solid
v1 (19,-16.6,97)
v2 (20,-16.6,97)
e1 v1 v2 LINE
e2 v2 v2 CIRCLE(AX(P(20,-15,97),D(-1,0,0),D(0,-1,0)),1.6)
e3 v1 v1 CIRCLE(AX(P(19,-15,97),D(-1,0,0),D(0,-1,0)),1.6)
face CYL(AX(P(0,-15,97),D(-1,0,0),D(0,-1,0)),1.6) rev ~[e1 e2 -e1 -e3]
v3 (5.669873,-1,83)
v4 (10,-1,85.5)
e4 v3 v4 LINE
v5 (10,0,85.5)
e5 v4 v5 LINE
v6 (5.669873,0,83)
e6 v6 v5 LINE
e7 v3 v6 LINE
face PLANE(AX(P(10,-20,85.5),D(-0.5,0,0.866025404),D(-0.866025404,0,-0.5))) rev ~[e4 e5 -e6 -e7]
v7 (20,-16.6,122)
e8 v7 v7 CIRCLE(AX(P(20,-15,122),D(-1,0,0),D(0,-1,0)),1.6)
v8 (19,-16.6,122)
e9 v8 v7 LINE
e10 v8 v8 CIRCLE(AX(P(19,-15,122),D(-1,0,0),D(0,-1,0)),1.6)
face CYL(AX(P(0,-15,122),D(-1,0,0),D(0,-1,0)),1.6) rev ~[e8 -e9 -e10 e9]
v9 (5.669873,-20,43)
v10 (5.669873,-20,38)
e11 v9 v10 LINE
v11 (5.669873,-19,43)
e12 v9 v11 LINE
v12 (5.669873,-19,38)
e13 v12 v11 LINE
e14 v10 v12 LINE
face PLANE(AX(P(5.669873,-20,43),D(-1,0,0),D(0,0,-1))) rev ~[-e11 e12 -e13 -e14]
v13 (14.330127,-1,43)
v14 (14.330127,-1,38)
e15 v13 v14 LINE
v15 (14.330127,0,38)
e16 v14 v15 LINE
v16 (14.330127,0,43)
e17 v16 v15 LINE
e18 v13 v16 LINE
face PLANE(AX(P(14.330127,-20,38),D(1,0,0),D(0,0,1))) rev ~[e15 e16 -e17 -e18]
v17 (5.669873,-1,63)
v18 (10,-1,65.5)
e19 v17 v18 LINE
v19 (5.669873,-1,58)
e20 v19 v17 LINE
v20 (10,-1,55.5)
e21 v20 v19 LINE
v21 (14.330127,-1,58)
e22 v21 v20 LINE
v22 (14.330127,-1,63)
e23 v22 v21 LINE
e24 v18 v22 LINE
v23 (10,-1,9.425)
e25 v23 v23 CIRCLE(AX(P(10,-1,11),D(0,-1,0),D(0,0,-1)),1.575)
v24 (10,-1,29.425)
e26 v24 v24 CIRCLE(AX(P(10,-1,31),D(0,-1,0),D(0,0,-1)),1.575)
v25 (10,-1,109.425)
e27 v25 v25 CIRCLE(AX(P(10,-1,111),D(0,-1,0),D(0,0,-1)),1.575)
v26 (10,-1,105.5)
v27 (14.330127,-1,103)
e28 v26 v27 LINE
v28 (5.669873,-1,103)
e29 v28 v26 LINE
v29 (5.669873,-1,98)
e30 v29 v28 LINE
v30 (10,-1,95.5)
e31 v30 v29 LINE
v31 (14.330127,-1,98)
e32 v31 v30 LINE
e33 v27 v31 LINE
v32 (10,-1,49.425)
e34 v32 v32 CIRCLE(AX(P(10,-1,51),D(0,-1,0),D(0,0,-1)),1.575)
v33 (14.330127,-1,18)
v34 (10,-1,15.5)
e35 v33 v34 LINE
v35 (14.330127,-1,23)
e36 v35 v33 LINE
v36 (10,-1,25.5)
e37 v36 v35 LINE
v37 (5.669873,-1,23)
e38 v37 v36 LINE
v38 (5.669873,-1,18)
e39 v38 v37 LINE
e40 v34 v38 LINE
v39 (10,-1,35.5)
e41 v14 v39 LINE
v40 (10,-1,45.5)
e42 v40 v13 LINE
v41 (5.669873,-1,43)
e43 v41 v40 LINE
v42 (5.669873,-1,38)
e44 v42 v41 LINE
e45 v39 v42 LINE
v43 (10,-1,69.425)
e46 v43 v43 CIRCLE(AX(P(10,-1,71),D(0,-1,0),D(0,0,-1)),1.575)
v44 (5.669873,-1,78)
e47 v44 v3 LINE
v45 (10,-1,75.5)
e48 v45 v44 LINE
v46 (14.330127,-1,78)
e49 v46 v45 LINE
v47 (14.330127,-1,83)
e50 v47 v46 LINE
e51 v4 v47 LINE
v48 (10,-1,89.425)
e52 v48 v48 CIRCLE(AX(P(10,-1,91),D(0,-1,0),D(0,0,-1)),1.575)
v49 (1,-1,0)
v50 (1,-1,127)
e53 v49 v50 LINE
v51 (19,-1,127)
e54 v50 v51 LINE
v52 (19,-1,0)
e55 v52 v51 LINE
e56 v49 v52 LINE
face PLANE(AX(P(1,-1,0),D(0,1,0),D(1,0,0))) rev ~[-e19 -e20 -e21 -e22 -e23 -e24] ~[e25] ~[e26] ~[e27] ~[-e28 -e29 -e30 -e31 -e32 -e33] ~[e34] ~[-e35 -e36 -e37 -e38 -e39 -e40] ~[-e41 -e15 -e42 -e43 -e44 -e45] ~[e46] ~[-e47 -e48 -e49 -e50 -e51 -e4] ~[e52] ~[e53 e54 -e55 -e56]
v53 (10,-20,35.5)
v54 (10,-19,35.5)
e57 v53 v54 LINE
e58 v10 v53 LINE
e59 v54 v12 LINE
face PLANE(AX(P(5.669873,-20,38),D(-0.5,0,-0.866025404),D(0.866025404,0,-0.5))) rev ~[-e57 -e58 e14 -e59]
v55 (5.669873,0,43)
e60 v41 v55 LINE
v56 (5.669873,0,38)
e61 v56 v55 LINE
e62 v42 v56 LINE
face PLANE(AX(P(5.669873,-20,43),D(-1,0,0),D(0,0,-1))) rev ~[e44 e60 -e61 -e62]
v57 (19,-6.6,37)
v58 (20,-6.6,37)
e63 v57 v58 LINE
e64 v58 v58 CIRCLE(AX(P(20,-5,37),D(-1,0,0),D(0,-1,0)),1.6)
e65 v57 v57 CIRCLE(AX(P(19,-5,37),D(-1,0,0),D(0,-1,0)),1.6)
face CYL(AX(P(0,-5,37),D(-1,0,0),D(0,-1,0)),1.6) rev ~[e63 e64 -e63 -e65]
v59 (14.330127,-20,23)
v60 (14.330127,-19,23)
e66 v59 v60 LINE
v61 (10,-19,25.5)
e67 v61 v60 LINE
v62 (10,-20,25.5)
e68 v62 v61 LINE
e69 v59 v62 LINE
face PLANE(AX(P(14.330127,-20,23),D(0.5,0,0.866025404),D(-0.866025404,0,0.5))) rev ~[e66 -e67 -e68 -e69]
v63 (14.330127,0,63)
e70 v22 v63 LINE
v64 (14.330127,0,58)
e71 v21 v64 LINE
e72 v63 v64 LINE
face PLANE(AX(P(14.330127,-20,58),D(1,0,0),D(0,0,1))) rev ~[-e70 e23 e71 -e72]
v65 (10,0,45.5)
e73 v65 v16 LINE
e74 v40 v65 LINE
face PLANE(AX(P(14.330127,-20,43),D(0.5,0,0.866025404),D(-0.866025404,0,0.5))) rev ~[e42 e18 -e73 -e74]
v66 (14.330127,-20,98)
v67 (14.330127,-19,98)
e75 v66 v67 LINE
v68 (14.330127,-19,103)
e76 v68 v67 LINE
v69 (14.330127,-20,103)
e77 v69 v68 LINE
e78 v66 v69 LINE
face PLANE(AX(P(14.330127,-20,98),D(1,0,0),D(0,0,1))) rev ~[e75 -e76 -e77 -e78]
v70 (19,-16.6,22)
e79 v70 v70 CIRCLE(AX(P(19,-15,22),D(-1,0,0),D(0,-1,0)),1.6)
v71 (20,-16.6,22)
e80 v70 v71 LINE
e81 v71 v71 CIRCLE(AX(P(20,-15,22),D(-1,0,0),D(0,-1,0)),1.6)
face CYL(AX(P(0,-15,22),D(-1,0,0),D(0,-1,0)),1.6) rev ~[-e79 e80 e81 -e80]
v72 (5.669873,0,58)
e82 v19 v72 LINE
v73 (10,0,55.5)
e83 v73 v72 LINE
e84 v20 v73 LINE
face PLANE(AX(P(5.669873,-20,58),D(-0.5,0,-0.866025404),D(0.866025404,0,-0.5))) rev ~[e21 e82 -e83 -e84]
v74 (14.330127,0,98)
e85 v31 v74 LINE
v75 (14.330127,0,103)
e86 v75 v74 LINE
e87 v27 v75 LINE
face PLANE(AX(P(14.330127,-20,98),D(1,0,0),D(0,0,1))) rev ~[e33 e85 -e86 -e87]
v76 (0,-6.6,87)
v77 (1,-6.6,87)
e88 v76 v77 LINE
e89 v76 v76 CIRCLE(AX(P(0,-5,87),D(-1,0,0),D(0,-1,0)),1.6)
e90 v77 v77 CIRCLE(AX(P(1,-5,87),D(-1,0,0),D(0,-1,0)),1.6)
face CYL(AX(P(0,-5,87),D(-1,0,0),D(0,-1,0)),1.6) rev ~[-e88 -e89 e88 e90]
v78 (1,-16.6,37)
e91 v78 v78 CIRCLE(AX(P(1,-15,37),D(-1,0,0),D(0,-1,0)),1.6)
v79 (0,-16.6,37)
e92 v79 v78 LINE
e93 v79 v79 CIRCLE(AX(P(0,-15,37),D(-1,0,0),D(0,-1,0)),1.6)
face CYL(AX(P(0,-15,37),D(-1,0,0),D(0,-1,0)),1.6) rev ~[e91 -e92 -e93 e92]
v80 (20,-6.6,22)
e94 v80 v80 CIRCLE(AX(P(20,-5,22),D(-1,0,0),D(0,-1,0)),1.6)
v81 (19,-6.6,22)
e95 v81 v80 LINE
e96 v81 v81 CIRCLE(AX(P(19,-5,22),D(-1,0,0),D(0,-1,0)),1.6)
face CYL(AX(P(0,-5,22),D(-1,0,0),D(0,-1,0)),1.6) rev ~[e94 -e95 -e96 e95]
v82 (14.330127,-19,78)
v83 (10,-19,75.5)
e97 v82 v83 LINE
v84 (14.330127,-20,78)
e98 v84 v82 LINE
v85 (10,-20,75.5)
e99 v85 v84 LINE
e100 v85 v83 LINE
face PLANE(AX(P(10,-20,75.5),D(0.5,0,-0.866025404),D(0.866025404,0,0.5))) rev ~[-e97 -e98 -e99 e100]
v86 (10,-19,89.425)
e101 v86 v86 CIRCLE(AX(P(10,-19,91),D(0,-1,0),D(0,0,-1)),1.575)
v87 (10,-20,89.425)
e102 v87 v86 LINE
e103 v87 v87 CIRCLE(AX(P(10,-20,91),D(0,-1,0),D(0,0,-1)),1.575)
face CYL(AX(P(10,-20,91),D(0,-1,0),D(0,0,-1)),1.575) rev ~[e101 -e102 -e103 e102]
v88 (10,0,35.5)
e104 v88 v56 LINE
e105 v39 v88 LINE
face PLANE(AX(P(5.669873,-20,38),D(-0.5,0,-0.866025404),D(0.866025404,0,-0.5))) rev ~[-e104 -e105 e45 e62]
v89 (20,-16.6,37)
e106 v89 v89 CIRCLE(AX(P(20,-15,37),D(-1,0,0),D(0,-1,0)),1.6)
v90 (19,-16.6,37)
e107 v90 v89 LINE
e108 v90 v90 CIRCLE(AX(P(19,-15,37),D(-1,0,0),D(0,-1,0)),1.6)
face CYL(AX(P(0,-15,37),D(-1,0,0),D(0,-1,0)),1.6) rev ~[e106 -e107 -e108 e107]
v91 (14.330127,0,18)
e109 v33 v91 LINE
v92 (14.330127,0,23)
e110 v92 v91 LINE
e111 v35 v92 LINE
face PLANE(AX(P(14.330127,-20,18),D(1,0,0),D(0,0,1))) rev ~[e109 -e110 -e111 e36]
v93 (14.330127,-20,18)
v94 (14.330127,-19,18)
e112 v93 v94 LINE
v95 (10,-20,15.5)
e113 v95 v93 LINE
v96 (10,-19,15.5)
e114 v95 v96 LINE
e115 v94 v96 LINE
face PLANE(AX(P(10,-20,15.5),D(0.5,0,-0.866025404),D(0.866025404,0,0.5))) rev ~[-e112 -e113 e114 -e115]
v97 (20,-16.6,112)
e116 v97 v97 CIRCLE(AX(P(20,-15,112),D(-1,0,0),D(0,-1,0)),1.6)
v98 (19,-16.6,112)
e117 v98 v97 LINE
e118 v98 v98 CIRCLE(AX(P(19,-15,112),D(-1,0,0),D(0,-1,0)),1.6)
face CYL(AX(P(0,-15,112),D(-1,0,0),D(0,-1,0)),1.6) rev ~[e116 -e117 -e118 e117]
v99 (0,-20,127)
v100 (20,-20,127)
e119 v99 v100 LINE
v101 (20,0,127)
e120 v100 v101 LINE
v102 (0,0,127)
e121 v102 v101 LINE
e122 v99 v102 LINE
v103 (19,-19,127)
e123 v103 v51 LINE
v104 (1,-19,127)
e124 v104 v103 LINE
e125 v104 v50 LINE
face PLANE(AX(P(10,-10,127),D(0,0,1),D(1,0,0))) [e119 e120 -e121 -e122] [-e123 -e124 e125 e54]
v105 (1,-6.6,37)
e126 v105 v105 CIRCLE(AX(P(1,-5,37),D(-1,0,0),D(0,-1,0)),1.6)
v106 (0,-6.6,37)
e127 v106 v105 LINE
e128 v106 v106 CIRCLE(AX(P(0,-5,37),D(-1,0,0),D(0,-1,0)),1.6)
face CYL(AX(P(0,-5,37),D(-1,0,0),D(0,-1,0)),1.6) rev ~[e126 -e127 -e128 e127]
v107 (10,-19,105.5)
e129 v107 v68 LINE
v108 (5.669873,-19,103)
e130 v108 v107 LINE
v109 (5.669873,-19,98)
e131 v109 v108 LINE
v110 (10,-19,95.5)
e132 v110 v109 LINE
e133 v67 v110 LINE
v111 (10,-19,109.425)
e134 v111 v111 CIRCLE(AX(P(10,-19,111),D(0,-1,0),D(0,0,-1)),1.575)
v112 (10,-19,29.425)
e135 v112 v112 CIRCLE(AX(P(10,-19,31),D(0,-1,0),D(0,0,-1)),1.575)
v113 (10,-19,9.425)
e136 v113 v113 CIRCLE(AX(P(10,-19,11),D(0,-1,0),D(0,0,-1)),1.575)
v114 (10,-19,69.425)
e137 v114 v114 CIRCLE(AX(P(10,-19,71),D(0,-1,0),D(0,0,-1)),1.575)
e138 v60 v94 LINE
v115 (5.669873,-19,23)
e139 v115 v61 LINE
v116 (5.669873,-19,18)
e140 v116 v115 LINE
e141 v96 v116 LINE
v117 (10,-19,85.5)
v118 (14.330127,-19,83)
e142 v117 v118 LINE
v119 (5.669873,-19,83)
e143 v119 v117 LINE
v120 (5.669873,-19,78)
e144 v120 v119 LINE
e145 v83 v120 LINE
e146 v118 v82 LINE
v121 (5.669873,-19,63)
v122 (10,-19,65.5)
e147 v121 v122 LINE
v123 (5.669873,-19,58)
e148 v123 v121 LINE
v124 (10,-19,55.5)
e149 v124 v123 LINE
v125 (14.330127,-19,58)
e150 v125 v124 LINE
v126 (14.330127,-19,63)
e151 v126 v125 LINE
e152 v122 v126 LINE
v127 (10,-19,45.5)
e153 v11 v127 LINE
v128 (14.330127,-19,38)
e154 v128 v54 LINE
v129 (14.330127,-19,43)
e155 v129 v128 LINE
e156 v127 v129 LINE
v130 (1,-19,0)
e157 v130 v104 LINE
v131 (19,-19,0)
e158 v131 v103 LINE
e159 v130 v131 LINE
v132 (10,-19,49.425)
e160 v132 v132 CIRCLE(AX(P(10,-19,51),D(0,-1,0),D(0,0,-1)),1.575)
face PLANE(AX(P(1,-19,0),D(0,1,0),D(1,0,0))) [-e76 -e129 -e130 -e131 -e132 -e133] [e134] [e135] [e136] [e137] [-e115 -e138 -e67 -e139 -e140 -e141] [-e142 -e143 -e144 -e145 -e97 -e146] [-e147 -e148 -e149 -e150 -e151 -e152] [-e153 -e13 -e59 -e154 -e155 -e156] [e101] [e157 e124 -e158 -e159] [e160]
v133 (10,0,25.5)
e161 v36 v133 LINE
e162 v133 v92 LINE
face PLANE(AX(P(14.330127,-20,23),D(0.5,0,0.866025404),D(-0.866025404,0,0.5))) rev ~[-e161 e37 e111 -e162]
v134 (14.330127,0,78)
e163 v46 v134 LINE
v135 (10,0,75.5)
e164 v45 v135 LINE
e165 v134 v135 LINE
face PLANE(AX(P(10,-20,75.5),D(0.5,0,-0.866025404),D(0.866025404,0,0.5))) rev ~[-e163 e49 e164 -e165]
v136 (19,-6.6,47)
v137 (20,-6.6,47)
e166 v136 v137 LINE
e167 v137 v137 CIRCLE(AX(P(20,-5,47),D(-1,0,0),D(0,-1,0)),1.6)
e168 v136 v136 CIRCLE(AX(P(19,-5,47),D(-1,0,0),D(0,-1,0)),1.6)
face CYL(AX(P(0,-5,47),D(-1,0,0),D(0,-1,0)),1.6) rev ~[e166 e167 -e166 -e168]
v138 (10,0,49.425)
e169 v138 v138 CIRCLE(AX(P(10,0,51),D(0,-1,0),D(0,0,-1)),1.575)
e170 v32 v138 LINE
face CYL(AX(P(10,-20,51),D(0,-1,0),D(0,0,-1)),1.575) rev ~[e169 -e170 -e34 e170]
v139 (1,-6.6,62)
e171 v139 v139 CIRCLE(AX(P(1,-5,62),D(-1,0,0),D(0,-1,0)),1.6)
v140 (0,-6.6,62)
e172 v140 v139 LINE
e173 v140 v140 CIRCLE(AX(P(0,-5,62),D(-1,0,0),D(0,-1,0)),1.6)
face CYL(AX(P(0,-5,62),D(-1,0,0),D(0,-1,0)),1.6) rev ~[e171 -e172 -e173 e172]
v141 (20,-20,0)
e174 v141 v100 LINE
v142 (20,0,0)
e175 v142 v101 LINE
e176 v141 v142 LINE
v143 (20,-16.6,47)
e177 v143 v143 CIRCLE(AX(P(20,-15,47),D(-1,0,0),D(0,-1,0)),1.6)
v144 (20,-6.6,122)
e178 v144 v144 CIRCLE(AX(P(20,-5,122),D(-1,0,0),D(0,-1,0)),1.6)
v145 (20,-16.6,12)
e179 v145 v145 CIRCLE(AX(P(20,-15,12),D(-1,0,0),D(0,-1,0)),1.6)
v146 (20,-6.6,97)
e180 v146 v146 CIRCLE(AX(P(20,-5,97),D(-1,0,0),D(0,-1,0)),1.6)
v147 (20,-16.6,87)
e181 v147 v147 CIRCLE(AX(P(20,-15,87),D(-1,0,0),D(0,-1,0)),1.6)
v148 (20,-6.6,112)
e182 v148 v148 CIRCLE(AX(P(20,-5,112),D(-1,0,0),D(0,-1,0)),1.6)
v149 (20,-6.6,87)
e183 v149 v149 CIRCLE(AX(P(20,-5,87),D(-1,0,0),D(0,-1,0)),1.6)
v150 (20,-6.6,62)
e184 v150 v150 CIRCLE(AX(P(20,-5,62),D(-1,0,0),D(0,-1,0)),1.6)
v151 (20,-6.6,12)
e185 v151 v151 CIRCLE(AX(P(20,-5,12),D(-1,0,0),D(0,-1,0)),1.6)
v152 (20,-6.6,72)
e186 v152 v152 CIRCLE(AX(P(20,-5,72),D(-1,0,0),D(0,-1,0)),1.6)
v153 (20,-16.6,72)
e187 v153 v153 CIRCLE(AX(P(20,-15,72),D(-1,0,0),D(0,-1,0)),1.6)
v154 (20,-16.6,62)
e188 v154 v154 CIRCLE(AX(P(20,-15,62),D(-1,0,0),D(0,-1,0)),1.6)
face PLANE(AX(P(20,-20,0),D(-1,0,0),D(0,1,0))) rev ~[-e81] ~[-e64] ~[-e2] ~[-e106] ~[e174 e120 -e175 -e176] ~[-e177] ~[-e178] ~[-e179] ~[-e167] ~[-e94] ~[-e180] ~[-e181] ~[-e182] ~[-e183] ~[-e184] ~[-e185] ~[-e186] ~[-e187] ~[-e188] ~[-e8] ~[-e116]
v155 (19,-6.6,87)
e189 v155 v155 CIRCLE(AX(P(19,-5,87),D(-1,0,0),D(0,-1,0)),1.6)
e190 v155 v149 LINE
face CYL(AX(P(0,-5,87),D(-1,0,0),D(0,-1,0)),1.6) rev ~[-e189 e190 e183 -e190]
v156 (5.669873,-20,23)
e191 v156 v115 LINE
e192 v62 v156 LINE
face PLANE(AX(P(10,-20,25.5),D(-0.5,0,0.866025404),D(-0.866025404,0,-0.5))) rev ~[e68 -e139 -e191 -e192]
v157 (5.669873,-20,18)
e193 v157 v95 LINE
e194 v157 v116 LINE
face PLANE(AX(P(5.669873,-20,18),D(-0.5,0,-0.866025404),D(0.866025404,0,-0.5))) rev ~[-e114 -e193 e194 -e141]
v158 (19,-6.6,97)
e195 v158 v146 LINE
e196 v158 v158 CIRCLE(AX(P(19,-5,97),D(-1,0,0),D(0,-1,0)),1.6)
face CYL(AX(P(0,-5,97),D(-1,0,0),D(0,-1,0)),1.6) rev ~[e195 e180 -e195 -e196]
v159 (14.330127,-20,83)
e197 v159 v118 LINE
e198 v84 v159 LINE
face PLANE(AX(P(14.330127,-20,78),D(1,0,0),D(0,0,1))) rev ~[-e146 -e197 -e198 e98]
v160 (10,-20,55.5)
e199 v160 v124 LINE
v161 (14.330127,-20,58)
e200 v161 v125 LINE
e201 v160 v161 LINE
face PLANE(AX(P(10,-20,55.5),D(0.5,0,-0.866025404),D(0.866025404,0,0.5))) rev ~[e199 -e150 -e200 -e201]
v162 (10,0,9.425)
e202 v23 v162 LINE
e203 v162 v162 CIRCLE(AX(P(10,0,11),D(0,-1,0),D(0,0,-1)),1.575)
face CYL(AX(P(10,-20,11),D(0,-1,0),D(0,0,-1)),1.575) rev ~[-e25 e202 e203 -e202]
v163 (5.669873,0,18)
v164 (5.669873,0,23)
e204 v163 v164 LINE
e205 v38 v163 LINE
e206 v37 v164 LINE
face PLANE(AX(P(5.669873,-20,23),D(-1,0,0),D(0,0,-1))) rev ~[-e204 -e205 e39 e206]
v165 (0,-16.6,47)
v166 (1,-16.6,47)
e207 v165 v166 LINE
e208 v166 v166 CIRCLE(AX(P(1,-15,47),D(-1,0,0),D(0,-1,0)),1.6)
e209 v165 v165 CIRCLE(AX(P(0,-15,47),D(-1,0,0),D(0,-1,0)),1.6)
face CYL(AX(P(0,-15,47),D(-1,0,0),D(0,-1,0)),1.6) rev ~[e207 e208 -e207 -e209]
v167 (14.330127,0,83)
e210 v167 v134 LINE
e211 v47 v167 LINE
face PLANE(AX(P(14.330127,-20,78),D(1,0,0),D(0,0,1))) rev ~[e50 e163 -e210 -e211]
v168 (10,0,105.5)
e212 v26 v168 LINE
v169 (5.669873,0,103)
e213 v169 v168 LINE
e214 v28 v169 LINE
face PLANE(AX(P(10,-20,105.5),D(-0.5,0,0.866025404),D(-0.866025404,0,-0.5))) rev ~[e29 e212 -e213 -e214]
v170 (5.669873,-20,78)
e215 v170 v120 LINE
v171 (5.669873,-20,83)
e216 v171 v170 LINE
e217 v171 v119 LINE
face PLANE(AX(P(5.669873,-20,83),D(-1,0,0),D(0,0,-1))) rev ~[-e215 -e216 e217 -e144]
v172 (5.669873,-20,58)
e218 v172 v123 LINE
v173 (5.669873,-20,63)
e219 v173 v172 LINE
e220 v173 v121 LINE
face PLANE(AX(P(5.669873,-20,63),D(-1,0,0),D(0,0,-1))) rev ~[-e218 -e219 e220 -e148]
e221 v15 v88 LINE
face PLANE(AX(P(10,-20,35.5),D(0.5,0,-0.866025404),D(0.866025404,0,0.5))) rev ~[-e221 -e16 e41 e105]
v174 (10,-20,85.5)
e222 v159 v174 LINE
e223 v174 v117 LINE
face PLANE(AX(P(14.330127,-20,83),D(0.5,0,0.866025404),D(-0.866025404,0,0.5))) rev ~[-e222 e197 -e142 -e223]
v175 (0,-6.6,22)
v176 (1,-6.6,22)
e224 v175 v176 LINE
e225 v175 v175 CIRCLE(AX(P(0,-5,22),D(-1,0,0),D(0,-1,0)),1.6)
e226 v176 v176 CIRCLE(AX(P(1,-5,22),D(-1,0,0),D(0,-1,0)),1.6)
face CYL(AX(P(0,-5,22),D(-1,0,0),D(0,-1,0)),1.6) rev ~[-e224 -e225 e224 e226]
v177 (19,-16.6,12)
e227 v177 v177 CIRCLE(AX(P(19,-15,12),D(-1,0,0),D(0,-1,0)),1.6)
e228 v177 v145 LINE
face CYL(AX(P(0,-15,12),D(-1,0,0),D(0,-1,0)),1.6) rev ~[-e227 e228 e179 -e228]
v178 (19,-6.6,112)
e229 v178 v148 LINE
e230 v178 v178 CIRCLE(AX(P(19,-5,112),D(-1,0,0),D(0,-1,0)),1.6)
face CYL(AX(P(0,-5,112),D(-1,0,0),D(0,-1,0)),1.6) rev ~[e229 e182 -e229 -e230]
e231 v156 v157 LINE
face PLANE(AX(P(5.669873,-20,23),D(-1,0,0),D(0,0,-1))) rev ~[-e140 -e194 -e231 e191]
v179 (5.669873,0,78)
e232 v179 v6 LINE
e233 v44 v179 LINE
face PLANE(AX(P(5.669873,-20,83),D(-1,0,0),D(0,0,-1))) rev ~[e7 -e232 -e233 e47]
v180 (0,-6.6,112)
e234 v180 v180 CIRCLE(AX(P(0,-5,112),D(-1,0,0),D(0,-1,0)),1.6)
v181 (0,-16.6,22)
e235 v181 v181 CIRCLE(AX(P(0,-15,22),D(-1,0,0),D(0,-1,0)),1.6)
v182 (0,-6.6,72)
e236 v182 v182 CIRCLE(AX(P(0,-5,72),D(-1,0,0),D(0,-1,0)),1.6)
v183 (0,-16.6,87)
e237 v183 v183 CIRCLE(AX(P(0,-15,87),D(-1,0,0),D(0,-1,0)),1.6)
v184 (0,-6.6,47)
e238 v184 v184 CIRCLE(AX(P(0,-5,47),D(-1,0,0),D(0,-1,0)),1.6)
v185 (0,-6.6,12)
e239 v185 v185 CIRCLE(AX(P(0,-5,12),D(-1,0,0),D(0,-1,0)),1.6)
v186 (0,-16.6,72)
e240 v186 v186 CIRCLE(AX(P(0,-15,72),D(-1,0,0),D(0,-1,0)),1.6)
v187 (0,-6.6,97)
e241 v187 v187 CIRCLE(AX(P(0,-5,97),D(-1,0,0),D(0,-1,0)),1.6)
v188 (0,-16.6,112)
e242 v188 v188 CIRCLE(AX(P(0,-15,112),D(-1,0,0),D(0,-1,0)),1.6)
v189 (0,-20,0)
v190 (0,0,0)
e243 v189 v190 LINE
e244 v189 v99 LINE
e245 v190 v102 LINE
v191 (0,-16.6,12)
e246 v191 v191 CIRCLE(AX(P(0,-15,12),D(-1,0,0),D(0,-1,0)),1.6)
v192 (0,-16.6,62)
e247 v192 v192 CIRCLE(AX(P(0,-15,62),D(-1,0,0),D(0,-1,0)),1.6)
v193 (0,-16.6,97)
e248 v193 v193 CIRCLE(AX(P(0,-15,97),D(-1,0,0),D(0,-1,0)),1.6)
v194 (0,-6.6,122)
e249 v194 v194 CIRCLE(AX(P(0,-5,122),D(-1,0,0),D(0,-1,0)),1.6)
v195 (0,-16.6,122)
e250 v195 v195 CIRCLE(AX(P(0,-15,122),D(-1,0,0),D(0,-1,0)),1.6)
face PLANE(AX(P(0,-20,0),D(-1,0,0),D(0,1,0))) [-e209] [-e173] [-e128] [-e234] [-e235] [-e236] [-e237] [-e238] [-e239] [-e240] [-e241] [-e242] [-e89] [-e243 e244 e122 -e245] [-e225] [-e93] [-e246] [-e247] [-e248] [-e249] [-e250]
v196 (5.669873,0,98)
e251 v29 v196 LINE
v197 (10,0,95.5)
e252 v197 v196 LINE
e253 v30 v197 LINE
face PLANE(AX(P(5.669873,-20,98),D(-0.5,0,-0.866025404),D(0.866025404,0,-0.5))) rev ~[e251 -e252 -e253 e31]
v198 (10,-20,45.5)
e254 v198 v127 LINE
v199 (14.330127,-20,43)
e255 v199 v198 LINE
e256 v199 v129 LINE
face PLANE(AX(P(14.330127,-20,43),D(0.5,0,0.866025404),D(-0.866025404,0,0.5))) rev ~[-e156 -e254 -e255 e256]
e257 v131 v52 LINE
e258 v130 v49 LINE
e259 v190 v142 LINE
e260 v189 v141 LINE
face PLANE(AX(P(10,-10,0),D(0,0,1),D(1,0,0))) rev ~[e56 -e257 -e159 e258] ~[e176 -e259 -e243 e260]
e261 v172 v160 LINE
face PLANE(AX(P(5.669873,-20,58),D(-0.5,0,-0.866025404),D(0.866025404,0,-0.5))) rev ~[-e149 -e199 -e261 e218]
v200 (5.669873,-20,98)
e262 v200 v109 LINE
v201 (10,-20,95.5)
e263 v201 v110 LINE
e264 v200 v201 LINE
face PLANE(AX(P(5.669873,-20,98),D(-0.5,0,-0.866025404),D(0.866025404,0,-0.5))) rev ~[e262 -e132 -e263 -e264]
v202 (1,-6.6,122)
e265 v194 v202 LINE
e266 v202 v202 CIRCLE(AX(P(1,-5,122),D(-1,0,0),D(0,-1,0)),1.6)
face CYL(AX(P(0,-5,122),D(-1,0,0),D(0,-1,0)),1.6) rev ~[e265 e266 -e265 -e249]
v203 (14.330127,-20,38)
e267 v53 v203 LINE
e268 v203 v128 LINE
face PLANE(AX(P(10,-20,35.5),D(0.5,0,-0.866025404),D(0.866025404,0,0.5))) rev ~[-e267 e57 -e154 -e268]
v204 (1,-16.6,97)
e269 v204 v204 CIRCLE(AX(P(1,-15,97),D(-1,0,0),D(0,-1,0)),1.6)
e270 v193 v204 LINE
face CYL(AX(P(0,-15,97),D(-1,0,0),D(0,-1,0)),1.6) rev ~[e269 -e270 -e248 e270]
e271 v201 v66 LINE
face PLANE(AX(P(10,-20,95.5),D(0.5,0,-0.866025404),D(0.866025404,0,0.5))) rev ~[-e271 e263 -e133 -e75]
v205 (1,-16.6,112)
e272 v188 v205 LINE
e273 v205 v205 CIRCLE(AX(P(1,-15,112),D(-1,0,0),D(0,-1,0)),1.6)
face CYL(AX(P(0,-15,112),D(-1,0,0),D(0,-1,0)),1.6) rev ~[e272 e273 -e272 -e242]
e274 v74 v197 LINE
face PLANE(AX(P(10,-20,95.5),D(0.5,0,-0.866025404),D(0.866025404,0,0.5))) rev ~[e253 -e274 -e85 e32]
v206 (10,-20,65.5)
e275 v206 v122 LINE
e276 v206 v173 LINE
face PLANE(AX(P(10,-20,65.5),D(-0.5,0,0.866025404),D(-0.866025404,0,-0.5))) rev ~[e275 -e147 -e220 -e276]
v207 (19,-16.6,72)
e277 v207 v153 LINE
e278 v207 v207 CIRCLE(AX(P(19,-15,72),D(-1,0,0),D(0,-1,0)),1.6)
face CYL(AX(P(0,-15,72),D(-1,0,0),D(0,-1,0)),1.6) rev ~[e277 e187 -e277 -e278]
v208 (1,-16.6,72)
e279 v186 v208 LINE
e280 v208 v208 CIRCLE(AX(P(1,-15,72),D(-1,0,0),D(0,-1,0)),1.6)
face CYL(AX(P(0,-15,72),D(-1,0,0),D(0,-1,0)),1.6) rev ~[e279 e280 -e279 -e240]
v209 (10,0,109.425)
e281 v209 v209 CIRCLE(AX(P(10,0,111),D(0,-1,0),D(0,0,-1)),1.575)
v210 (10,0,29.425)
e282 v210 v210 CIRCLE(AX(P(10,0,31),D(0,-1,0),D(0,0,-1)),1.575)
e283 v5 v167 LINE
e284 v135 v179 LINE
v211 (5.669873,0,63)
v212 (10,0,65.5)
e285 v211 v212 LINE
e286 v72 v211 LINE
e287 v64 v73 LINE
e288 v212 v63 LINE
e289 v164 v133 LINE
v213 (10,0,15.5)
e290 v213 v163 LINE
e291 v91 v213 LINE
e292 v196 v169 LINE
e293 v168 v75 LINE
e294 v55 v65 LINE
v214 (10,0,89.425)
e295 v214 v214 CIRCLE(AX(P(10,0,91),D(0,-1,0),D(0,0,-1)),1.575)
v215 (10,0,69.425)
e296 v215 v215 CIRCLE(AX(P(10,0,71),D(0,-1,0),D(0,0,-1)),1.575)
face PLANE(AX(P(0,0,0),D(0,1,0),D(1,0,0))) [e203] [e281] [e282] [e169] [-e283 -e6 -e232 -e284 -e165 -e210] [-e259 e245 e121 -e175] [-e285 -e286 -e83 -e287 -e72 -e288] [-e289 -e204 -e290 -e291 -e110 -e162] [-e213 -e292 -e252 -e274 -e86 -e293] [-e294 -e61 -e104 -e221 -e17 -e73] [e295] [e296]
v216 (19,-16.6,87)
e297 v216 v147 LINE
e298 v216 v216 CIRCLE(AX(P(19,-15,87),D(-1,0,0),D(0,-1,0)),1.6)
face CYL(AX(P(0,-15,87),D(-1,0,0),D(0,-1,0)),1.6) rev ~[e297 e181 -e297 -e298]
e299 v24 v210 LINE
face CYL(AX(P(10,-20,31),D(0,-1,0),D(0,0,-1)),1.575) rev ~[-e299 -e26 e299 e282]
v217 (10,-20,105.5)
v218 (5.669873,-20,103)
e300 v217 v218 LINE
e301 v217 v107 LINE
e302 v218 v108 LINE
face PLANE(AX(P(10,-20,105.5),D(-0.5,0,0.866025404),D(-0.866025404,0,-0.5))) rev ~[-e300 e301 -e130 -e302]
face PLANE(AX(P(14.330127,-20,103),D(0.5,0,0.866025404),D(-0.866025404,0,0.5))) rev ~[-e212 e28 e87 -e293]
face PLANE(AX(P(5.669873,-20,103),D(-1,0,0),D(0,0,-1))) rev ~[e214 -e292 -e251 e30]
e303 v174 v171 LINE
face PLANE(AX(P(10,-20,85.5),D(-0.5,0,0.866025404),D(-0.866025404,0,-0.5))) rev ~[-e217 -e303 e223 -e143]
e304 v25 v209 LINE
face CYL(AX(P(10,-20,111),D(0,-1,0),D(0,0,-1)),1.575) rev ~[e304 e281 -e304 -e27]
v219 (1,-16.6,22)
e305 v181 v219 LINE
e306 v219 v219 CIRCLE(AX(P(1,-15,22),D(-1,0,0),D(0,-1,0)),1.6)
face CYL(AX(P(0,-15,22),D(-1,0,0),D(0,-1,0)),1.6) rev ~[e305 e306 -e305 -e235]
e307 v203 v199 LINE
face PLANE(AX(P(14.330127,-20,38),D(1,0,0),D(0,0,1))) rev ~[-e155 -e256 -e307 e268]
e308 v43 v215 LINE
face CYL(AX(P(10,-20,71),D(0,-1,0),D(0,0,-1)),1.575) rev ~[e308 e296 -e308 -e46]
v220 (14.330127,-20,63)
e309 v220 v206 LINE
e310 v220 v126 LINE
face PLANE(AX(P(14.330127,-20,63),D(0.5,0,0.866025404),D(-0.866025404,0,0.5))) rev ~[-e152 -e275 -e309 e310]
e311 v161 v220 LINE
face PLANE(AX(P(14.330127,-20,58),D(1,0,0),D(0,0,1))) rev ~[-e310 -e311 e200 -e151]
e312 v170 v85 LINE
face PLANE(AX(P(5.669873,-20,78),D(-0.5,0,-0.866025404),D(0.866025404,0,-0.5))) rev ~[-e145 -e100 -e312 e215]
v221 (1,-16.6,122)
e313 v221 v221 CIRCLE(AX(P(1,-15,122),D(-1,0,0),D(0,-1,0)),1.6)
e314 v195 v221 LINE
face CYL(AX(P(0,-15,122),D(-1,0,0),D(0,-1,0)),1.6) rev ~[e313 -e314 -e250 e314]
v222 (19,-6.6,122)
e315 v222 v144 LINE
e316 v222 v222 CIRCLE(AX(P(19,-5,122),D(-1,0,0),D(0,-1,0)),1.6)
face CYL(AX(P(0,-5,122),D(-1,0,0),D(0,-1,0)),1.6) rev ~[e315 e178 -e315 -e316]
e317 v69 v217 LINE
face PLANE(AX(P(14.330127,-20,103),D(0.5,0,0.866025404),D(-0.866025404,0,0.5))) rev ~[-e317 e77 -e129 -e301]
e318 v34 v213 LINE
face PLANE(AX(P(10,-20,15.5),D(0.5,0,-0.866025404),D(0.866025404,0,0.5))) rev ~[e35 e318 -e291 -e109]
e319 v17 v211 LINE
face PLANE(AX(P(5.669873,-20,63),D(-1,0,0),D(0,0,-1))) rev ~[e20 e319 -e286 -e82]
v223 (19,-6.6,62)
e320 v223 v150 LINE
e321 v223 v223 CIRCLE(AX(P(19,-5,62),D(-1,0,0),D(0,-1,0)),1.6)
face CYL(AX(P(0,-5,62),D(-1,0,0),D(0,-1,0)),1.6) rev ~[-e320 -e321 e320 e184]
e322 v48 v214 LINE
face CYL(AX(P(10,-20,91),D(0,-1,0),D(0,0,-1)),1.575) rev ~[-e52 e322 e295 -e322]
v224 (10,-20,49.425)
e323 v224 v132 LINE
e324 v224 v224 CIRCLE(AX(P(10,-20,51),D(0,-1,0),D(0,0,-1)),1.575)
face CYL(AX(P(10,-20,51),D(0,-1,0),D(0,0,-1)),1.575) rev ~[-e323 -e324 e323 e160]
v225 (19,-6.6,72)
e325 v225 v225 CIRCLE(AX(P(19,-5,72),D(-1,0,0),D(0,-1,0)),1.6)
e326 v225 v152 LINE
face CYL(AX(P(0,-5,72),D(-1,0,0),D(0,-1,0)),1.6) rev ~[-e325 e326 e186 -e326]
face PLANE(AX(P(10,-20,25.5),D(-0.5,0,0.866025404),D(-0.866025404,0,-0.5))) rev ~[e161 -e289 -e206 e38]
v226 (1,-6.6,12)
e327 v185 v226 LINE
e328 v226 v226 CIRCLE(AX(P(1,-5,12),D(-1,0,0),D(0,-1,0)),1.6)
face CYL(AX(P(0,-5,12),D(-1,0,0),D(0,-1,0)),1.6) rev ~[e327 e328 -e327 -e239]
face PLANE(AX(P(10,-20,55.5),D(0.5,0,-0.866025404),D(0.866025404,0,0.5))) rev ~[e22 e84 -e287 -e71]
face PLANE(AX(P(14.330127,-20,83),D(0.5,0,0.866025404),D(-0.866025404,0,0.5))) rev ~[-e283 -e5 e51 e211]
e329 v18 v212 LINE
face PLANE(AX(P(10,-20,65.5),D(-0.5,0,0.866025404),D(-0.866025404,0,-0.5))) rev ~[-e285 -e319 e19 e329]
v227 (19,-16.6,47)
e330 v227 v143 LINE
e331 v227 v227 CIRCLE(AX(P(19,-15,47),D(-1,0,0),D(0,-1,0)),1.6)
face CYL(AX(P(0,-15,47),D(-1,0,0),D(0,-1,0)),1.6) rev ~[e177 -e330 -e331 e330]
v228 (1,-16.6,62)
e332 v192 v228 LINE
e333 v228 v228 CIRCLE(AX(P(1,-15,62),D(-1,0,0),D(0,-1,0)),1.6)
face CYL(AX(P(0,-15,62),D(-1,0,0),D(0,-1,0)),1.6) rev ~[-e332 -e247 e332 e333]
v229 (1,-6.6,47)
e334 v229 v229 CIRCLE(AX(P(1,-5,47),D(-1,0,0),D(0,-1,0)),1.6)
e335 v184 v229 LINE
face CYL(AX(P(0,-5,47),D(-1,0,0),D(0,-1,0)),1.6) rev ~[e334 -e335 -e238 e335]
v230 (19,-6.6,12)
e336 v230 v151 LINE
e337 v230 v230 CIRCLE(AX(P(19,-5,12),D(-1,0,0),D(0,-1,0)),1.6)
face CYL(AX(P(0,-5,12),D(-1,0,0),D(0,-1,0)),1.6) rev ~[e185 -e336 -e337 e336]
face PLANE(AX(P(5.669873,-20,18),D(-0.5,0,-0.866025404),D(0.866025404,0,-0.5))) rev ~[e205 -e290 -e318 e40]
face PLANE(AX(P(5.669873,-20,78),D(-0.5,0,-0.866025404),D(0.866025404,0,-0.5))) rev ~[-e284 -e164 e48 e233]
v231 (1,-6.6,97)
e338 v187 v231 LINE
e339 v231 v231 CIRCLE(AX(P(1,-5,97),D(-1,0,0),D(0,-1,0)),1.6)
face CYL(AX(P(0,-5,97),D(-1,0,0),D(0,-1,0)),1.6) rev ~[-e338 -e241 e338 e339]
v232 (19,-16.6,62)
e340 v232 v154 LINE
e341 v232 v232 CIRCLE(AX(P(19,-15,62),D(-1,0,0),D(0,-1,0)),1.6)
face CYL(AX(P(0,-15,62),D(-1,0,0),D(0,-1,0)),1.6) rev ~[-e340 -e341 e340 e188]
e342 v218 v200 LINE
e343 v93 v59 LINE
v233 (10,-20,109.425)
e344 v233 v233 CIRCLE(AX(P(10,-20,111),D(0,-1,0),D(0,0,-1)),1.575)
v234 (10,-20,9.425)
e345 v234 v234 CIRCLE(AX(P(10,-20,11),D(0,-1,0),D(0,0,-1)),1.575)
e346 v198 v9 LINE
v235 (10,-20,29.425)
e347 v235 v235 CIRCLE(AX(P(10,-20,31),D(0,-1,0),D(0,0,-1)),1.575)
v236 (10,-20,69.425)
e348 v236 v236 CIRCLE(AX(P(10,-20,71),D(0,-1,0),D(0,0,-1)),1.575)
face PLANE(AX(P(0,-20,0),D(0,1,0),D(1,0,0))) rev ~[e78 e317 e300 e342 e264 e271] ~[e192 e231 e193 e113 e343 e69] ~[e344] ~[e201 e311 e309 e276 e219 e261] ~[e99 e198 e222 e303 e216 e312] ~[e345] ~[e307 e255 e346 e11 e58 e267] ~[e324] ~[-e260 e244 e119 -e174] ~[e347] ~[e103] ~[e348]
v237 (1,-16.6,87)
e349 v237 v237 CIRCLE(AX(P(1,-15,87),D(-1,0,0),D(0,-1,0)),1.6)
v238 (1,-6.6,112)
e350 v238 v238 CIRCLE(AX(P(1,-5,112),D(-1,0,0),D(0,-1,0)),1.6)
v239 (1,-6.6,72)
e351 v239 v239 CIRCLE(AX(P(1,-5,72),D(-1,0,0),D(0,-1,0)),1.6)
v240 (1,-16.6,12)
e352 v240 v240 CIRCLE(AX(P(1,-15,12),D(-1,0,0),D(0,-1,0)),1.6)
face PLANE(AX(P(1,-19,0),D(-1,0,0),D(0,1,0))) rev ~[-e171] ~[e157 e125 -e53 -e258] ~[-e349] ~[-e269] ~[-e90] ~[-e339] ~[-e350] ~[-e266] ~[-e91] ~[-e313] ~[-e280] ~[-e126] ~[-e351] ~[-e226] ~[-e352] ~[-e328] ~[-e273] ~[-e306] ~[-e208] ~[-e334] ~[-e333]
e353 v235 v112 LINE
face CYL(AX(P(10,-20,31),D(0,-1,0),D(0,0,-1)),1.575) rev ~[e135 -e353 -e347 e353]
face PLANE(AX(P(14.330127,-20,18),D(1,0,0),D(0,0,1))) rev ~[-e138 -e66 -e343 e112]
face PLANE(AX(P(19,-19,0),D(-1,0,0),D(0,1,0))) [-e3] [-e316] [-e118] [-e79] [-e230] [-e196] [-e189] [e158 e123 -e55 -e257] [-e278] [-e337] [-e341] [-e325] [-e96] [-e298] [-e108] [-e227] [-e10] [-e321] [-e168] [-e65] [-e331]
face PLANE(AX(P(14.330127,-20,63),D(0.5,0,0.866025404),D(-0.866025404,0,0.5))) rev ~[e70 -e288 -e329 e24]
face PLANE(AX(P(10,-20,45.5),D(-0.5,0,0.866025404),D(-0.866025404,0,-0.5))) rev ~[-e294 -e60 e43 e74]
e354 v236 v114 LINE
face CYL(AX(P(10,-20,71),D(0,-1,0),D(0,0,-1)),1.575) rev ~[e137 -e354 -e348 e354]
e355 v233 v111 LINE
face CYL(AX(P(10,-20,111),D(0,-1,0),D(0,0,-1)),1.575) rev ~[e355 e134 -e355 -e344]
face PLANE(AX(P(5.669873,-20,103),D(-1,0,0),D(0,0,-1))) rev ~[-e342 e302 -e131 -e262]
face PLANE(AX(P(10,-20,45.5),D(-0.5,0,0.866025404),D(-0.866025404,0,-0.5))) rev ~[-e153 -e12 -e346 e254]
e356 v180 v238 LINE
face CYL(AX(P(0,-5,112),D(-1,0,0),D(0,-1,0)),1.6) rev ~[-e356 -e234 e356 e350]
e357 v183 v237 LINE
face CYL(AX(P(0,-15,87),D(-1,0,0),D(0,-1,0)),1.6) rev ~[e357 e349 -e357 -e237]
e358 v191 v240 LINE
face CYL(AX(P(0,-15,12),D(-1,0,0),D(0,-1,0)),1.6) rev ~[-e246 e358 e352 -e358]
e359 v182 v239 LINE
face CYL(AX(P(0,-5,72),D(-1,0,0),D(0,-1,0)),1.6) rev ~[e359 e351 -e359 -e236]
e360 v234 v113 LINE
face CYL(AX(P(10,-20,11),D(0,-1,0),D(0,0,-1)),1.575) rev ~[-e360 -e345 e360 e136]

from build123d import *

# Parameters (mm, degrees)
SKETCH_1_W          = 20
SKETCH_1_H          = 20
SKETCH_1_W_2        = 18
SKETCH_1_H_2        = 18
EXTRUDE_1_DEPTH     = 127
SKETCH_2_R          = 1.575
CUT_EXTRUDE_1_DEPTH = 131.111490653
SKETCH_3_R          = 1.6
CUT_EXTRUDE_2_DEPTH = 131.111490653


with BuildPart() as part:
    # 草图1 → 拉伸-薄壁1 (new body)
    with BuildSketch(Plane.XY):
        with Locations((10, -10)):
            Rectangle(SKETCH_1_W, SKETCH_1_H)
        with Locations((10, -10)):
            Rectangle(SKETCH_1_W_2, SKETCH_1_H_2, mode=Mode.SUBTRACT)
    extrude(amount=EXTRUDE_1_DEPTH)

    # 草图2 → 切除-拉伸1 (cut, through all)
    with BuildSketch(Plane.XZ.offset(20)):
        with Locations(Location((10, 11, 0), (0, 0, 270))):
            Circle(SKETCH_2_R)
        with Locations(Location((10, 31, 0), (0, 0, 270))):
            Circle(SKETCH_2_R)
        with Locations(Location((10, 51, 0), (0, 0, 270))):
            Circle(SKETCH_2_R)
        with Locations(Location((10, 71, 0), (0, 0, 270))):
            Circle(SKETCH_2_R)
        with Locations(Location((10, 91, 0), (0, 0, 270))):
            Circle(SKETCH_2_R)
        with Locations(Location((10, 111, 0), (0, 0, 270))):
            Circle(SKETCH_2_R)
        Polygon((10, 45.5), (5.669872981, 43), (5.669872981, 38), (10, 35.5), (14.330127019, 38), (14.330127019, 43), align=None)
        Polygon((10, 25.5), (5.669872981, 23), (5.669872981, 18), (10, 15.5), (14.330127019, 18), (14.330127019, 23), align=None)
        Polygon((10, 65.5), (5.669872981, 63), (5.669872981, 58), (10, 55.5), (14.330127019, 58), (14.330127019, 63), align=None)
        Polygon((10, 85.5), (5.669872981, 83), (5.669872981, 78), (10, 75.5), (14.330127019, 78), (14.330127019, 83), align=None)
        Polygon((10, 105.5), (5.669872981, 103), (5.669872981, 98), (10, 95.5), (14.330127019, 98), (14.330127019, 103), align=None)
    extrude(amount=-CUT_EXTRUDE_1_DEPTH, mode=Mode.SUBTRACT)

    # 草图3 → 切除-拉伸2 (cut, through all)
    with BuildSketch(Plane.ZY):
        with Locations(Location((122, -5, 0), (0, 0, 270))):
            Circle(SKETCH_3_R)
        with Locations(Location((122, -15, 0), (0, 0, 270))):
            Circle(SKETCH_3_R)
        with Locations(Location((112, -15, 0), (0, 0, 270))):
            Circle(SKETCH_3_R)
        with Locations(Location((112, -5, 0), (0, 0, 270))):
            Circle(SKETCH_3_R)
        with Locations(Location((97, -5, 0), (0, 0, 270))):
            Circle(SKETCH_3_R)
        with Locations(Location((97, -15, 0), (0, 0, 270))):
            Circle(SKETCH_3_R)
        with Locations(Location((87, -15, 0), (0, 0, 270))):
            Circle(SKETCH_3_R)
        with Locations(Location((87, -5, 0), (0, 0, 270))):
            Circle(SKETCH_3_R)
        with Locations(Location((72, -5, 0), (0, 0, 270))):
            Circle(SKETCH_3_R)
        with Locations(Location((72, -15, 0), (0, 0, 270))):
            Circle(SKETCH_3_R)
        with Locations(Location((62, -15, 0), (0, 0, 270))):
            Circle(SKETCH_3_R)
        with Locations(Location((62, -5, 0), (0, 0, 270))):
            Circle(SKETCH_3_R)
        with Locations(Location((47, -5, 0), (0, 0, 270))):
            Circle(SKETCH_3_R)
        with Locations(Location((47, -15, 0), (0, 0, 270))):
            Circle(SKETCH_3_R)
        with Locations(Location((37, -15, 0), (0, 0, 270))):
            Circle(SKETCH_3_R)
        with Locations(Location((37, -5, 0), (0, 0, 270))):
            Circle(SKETCH_3_R)
        with Locations(Location((22, -5, 0), (0, 0, 270))):
            Circle(SKETCH_3_R)
        with Locations(Location((22, -15, 0), (0, 0, 270))):
            Circle(SKETCH_3_R)
        with Locations(Location((12, -15, 0), (0, 0, 270))):
            Circle(SKETCH_3_R)
        with Locations(Location((12, -5, 0), (0, 0, 270))):
            Circle(SKETCH_3_R)
    extrude(amount=-CUT_EXTRUDE_2_DEPTH, mode=Mode.SUBTRACT)


solid = part.part
